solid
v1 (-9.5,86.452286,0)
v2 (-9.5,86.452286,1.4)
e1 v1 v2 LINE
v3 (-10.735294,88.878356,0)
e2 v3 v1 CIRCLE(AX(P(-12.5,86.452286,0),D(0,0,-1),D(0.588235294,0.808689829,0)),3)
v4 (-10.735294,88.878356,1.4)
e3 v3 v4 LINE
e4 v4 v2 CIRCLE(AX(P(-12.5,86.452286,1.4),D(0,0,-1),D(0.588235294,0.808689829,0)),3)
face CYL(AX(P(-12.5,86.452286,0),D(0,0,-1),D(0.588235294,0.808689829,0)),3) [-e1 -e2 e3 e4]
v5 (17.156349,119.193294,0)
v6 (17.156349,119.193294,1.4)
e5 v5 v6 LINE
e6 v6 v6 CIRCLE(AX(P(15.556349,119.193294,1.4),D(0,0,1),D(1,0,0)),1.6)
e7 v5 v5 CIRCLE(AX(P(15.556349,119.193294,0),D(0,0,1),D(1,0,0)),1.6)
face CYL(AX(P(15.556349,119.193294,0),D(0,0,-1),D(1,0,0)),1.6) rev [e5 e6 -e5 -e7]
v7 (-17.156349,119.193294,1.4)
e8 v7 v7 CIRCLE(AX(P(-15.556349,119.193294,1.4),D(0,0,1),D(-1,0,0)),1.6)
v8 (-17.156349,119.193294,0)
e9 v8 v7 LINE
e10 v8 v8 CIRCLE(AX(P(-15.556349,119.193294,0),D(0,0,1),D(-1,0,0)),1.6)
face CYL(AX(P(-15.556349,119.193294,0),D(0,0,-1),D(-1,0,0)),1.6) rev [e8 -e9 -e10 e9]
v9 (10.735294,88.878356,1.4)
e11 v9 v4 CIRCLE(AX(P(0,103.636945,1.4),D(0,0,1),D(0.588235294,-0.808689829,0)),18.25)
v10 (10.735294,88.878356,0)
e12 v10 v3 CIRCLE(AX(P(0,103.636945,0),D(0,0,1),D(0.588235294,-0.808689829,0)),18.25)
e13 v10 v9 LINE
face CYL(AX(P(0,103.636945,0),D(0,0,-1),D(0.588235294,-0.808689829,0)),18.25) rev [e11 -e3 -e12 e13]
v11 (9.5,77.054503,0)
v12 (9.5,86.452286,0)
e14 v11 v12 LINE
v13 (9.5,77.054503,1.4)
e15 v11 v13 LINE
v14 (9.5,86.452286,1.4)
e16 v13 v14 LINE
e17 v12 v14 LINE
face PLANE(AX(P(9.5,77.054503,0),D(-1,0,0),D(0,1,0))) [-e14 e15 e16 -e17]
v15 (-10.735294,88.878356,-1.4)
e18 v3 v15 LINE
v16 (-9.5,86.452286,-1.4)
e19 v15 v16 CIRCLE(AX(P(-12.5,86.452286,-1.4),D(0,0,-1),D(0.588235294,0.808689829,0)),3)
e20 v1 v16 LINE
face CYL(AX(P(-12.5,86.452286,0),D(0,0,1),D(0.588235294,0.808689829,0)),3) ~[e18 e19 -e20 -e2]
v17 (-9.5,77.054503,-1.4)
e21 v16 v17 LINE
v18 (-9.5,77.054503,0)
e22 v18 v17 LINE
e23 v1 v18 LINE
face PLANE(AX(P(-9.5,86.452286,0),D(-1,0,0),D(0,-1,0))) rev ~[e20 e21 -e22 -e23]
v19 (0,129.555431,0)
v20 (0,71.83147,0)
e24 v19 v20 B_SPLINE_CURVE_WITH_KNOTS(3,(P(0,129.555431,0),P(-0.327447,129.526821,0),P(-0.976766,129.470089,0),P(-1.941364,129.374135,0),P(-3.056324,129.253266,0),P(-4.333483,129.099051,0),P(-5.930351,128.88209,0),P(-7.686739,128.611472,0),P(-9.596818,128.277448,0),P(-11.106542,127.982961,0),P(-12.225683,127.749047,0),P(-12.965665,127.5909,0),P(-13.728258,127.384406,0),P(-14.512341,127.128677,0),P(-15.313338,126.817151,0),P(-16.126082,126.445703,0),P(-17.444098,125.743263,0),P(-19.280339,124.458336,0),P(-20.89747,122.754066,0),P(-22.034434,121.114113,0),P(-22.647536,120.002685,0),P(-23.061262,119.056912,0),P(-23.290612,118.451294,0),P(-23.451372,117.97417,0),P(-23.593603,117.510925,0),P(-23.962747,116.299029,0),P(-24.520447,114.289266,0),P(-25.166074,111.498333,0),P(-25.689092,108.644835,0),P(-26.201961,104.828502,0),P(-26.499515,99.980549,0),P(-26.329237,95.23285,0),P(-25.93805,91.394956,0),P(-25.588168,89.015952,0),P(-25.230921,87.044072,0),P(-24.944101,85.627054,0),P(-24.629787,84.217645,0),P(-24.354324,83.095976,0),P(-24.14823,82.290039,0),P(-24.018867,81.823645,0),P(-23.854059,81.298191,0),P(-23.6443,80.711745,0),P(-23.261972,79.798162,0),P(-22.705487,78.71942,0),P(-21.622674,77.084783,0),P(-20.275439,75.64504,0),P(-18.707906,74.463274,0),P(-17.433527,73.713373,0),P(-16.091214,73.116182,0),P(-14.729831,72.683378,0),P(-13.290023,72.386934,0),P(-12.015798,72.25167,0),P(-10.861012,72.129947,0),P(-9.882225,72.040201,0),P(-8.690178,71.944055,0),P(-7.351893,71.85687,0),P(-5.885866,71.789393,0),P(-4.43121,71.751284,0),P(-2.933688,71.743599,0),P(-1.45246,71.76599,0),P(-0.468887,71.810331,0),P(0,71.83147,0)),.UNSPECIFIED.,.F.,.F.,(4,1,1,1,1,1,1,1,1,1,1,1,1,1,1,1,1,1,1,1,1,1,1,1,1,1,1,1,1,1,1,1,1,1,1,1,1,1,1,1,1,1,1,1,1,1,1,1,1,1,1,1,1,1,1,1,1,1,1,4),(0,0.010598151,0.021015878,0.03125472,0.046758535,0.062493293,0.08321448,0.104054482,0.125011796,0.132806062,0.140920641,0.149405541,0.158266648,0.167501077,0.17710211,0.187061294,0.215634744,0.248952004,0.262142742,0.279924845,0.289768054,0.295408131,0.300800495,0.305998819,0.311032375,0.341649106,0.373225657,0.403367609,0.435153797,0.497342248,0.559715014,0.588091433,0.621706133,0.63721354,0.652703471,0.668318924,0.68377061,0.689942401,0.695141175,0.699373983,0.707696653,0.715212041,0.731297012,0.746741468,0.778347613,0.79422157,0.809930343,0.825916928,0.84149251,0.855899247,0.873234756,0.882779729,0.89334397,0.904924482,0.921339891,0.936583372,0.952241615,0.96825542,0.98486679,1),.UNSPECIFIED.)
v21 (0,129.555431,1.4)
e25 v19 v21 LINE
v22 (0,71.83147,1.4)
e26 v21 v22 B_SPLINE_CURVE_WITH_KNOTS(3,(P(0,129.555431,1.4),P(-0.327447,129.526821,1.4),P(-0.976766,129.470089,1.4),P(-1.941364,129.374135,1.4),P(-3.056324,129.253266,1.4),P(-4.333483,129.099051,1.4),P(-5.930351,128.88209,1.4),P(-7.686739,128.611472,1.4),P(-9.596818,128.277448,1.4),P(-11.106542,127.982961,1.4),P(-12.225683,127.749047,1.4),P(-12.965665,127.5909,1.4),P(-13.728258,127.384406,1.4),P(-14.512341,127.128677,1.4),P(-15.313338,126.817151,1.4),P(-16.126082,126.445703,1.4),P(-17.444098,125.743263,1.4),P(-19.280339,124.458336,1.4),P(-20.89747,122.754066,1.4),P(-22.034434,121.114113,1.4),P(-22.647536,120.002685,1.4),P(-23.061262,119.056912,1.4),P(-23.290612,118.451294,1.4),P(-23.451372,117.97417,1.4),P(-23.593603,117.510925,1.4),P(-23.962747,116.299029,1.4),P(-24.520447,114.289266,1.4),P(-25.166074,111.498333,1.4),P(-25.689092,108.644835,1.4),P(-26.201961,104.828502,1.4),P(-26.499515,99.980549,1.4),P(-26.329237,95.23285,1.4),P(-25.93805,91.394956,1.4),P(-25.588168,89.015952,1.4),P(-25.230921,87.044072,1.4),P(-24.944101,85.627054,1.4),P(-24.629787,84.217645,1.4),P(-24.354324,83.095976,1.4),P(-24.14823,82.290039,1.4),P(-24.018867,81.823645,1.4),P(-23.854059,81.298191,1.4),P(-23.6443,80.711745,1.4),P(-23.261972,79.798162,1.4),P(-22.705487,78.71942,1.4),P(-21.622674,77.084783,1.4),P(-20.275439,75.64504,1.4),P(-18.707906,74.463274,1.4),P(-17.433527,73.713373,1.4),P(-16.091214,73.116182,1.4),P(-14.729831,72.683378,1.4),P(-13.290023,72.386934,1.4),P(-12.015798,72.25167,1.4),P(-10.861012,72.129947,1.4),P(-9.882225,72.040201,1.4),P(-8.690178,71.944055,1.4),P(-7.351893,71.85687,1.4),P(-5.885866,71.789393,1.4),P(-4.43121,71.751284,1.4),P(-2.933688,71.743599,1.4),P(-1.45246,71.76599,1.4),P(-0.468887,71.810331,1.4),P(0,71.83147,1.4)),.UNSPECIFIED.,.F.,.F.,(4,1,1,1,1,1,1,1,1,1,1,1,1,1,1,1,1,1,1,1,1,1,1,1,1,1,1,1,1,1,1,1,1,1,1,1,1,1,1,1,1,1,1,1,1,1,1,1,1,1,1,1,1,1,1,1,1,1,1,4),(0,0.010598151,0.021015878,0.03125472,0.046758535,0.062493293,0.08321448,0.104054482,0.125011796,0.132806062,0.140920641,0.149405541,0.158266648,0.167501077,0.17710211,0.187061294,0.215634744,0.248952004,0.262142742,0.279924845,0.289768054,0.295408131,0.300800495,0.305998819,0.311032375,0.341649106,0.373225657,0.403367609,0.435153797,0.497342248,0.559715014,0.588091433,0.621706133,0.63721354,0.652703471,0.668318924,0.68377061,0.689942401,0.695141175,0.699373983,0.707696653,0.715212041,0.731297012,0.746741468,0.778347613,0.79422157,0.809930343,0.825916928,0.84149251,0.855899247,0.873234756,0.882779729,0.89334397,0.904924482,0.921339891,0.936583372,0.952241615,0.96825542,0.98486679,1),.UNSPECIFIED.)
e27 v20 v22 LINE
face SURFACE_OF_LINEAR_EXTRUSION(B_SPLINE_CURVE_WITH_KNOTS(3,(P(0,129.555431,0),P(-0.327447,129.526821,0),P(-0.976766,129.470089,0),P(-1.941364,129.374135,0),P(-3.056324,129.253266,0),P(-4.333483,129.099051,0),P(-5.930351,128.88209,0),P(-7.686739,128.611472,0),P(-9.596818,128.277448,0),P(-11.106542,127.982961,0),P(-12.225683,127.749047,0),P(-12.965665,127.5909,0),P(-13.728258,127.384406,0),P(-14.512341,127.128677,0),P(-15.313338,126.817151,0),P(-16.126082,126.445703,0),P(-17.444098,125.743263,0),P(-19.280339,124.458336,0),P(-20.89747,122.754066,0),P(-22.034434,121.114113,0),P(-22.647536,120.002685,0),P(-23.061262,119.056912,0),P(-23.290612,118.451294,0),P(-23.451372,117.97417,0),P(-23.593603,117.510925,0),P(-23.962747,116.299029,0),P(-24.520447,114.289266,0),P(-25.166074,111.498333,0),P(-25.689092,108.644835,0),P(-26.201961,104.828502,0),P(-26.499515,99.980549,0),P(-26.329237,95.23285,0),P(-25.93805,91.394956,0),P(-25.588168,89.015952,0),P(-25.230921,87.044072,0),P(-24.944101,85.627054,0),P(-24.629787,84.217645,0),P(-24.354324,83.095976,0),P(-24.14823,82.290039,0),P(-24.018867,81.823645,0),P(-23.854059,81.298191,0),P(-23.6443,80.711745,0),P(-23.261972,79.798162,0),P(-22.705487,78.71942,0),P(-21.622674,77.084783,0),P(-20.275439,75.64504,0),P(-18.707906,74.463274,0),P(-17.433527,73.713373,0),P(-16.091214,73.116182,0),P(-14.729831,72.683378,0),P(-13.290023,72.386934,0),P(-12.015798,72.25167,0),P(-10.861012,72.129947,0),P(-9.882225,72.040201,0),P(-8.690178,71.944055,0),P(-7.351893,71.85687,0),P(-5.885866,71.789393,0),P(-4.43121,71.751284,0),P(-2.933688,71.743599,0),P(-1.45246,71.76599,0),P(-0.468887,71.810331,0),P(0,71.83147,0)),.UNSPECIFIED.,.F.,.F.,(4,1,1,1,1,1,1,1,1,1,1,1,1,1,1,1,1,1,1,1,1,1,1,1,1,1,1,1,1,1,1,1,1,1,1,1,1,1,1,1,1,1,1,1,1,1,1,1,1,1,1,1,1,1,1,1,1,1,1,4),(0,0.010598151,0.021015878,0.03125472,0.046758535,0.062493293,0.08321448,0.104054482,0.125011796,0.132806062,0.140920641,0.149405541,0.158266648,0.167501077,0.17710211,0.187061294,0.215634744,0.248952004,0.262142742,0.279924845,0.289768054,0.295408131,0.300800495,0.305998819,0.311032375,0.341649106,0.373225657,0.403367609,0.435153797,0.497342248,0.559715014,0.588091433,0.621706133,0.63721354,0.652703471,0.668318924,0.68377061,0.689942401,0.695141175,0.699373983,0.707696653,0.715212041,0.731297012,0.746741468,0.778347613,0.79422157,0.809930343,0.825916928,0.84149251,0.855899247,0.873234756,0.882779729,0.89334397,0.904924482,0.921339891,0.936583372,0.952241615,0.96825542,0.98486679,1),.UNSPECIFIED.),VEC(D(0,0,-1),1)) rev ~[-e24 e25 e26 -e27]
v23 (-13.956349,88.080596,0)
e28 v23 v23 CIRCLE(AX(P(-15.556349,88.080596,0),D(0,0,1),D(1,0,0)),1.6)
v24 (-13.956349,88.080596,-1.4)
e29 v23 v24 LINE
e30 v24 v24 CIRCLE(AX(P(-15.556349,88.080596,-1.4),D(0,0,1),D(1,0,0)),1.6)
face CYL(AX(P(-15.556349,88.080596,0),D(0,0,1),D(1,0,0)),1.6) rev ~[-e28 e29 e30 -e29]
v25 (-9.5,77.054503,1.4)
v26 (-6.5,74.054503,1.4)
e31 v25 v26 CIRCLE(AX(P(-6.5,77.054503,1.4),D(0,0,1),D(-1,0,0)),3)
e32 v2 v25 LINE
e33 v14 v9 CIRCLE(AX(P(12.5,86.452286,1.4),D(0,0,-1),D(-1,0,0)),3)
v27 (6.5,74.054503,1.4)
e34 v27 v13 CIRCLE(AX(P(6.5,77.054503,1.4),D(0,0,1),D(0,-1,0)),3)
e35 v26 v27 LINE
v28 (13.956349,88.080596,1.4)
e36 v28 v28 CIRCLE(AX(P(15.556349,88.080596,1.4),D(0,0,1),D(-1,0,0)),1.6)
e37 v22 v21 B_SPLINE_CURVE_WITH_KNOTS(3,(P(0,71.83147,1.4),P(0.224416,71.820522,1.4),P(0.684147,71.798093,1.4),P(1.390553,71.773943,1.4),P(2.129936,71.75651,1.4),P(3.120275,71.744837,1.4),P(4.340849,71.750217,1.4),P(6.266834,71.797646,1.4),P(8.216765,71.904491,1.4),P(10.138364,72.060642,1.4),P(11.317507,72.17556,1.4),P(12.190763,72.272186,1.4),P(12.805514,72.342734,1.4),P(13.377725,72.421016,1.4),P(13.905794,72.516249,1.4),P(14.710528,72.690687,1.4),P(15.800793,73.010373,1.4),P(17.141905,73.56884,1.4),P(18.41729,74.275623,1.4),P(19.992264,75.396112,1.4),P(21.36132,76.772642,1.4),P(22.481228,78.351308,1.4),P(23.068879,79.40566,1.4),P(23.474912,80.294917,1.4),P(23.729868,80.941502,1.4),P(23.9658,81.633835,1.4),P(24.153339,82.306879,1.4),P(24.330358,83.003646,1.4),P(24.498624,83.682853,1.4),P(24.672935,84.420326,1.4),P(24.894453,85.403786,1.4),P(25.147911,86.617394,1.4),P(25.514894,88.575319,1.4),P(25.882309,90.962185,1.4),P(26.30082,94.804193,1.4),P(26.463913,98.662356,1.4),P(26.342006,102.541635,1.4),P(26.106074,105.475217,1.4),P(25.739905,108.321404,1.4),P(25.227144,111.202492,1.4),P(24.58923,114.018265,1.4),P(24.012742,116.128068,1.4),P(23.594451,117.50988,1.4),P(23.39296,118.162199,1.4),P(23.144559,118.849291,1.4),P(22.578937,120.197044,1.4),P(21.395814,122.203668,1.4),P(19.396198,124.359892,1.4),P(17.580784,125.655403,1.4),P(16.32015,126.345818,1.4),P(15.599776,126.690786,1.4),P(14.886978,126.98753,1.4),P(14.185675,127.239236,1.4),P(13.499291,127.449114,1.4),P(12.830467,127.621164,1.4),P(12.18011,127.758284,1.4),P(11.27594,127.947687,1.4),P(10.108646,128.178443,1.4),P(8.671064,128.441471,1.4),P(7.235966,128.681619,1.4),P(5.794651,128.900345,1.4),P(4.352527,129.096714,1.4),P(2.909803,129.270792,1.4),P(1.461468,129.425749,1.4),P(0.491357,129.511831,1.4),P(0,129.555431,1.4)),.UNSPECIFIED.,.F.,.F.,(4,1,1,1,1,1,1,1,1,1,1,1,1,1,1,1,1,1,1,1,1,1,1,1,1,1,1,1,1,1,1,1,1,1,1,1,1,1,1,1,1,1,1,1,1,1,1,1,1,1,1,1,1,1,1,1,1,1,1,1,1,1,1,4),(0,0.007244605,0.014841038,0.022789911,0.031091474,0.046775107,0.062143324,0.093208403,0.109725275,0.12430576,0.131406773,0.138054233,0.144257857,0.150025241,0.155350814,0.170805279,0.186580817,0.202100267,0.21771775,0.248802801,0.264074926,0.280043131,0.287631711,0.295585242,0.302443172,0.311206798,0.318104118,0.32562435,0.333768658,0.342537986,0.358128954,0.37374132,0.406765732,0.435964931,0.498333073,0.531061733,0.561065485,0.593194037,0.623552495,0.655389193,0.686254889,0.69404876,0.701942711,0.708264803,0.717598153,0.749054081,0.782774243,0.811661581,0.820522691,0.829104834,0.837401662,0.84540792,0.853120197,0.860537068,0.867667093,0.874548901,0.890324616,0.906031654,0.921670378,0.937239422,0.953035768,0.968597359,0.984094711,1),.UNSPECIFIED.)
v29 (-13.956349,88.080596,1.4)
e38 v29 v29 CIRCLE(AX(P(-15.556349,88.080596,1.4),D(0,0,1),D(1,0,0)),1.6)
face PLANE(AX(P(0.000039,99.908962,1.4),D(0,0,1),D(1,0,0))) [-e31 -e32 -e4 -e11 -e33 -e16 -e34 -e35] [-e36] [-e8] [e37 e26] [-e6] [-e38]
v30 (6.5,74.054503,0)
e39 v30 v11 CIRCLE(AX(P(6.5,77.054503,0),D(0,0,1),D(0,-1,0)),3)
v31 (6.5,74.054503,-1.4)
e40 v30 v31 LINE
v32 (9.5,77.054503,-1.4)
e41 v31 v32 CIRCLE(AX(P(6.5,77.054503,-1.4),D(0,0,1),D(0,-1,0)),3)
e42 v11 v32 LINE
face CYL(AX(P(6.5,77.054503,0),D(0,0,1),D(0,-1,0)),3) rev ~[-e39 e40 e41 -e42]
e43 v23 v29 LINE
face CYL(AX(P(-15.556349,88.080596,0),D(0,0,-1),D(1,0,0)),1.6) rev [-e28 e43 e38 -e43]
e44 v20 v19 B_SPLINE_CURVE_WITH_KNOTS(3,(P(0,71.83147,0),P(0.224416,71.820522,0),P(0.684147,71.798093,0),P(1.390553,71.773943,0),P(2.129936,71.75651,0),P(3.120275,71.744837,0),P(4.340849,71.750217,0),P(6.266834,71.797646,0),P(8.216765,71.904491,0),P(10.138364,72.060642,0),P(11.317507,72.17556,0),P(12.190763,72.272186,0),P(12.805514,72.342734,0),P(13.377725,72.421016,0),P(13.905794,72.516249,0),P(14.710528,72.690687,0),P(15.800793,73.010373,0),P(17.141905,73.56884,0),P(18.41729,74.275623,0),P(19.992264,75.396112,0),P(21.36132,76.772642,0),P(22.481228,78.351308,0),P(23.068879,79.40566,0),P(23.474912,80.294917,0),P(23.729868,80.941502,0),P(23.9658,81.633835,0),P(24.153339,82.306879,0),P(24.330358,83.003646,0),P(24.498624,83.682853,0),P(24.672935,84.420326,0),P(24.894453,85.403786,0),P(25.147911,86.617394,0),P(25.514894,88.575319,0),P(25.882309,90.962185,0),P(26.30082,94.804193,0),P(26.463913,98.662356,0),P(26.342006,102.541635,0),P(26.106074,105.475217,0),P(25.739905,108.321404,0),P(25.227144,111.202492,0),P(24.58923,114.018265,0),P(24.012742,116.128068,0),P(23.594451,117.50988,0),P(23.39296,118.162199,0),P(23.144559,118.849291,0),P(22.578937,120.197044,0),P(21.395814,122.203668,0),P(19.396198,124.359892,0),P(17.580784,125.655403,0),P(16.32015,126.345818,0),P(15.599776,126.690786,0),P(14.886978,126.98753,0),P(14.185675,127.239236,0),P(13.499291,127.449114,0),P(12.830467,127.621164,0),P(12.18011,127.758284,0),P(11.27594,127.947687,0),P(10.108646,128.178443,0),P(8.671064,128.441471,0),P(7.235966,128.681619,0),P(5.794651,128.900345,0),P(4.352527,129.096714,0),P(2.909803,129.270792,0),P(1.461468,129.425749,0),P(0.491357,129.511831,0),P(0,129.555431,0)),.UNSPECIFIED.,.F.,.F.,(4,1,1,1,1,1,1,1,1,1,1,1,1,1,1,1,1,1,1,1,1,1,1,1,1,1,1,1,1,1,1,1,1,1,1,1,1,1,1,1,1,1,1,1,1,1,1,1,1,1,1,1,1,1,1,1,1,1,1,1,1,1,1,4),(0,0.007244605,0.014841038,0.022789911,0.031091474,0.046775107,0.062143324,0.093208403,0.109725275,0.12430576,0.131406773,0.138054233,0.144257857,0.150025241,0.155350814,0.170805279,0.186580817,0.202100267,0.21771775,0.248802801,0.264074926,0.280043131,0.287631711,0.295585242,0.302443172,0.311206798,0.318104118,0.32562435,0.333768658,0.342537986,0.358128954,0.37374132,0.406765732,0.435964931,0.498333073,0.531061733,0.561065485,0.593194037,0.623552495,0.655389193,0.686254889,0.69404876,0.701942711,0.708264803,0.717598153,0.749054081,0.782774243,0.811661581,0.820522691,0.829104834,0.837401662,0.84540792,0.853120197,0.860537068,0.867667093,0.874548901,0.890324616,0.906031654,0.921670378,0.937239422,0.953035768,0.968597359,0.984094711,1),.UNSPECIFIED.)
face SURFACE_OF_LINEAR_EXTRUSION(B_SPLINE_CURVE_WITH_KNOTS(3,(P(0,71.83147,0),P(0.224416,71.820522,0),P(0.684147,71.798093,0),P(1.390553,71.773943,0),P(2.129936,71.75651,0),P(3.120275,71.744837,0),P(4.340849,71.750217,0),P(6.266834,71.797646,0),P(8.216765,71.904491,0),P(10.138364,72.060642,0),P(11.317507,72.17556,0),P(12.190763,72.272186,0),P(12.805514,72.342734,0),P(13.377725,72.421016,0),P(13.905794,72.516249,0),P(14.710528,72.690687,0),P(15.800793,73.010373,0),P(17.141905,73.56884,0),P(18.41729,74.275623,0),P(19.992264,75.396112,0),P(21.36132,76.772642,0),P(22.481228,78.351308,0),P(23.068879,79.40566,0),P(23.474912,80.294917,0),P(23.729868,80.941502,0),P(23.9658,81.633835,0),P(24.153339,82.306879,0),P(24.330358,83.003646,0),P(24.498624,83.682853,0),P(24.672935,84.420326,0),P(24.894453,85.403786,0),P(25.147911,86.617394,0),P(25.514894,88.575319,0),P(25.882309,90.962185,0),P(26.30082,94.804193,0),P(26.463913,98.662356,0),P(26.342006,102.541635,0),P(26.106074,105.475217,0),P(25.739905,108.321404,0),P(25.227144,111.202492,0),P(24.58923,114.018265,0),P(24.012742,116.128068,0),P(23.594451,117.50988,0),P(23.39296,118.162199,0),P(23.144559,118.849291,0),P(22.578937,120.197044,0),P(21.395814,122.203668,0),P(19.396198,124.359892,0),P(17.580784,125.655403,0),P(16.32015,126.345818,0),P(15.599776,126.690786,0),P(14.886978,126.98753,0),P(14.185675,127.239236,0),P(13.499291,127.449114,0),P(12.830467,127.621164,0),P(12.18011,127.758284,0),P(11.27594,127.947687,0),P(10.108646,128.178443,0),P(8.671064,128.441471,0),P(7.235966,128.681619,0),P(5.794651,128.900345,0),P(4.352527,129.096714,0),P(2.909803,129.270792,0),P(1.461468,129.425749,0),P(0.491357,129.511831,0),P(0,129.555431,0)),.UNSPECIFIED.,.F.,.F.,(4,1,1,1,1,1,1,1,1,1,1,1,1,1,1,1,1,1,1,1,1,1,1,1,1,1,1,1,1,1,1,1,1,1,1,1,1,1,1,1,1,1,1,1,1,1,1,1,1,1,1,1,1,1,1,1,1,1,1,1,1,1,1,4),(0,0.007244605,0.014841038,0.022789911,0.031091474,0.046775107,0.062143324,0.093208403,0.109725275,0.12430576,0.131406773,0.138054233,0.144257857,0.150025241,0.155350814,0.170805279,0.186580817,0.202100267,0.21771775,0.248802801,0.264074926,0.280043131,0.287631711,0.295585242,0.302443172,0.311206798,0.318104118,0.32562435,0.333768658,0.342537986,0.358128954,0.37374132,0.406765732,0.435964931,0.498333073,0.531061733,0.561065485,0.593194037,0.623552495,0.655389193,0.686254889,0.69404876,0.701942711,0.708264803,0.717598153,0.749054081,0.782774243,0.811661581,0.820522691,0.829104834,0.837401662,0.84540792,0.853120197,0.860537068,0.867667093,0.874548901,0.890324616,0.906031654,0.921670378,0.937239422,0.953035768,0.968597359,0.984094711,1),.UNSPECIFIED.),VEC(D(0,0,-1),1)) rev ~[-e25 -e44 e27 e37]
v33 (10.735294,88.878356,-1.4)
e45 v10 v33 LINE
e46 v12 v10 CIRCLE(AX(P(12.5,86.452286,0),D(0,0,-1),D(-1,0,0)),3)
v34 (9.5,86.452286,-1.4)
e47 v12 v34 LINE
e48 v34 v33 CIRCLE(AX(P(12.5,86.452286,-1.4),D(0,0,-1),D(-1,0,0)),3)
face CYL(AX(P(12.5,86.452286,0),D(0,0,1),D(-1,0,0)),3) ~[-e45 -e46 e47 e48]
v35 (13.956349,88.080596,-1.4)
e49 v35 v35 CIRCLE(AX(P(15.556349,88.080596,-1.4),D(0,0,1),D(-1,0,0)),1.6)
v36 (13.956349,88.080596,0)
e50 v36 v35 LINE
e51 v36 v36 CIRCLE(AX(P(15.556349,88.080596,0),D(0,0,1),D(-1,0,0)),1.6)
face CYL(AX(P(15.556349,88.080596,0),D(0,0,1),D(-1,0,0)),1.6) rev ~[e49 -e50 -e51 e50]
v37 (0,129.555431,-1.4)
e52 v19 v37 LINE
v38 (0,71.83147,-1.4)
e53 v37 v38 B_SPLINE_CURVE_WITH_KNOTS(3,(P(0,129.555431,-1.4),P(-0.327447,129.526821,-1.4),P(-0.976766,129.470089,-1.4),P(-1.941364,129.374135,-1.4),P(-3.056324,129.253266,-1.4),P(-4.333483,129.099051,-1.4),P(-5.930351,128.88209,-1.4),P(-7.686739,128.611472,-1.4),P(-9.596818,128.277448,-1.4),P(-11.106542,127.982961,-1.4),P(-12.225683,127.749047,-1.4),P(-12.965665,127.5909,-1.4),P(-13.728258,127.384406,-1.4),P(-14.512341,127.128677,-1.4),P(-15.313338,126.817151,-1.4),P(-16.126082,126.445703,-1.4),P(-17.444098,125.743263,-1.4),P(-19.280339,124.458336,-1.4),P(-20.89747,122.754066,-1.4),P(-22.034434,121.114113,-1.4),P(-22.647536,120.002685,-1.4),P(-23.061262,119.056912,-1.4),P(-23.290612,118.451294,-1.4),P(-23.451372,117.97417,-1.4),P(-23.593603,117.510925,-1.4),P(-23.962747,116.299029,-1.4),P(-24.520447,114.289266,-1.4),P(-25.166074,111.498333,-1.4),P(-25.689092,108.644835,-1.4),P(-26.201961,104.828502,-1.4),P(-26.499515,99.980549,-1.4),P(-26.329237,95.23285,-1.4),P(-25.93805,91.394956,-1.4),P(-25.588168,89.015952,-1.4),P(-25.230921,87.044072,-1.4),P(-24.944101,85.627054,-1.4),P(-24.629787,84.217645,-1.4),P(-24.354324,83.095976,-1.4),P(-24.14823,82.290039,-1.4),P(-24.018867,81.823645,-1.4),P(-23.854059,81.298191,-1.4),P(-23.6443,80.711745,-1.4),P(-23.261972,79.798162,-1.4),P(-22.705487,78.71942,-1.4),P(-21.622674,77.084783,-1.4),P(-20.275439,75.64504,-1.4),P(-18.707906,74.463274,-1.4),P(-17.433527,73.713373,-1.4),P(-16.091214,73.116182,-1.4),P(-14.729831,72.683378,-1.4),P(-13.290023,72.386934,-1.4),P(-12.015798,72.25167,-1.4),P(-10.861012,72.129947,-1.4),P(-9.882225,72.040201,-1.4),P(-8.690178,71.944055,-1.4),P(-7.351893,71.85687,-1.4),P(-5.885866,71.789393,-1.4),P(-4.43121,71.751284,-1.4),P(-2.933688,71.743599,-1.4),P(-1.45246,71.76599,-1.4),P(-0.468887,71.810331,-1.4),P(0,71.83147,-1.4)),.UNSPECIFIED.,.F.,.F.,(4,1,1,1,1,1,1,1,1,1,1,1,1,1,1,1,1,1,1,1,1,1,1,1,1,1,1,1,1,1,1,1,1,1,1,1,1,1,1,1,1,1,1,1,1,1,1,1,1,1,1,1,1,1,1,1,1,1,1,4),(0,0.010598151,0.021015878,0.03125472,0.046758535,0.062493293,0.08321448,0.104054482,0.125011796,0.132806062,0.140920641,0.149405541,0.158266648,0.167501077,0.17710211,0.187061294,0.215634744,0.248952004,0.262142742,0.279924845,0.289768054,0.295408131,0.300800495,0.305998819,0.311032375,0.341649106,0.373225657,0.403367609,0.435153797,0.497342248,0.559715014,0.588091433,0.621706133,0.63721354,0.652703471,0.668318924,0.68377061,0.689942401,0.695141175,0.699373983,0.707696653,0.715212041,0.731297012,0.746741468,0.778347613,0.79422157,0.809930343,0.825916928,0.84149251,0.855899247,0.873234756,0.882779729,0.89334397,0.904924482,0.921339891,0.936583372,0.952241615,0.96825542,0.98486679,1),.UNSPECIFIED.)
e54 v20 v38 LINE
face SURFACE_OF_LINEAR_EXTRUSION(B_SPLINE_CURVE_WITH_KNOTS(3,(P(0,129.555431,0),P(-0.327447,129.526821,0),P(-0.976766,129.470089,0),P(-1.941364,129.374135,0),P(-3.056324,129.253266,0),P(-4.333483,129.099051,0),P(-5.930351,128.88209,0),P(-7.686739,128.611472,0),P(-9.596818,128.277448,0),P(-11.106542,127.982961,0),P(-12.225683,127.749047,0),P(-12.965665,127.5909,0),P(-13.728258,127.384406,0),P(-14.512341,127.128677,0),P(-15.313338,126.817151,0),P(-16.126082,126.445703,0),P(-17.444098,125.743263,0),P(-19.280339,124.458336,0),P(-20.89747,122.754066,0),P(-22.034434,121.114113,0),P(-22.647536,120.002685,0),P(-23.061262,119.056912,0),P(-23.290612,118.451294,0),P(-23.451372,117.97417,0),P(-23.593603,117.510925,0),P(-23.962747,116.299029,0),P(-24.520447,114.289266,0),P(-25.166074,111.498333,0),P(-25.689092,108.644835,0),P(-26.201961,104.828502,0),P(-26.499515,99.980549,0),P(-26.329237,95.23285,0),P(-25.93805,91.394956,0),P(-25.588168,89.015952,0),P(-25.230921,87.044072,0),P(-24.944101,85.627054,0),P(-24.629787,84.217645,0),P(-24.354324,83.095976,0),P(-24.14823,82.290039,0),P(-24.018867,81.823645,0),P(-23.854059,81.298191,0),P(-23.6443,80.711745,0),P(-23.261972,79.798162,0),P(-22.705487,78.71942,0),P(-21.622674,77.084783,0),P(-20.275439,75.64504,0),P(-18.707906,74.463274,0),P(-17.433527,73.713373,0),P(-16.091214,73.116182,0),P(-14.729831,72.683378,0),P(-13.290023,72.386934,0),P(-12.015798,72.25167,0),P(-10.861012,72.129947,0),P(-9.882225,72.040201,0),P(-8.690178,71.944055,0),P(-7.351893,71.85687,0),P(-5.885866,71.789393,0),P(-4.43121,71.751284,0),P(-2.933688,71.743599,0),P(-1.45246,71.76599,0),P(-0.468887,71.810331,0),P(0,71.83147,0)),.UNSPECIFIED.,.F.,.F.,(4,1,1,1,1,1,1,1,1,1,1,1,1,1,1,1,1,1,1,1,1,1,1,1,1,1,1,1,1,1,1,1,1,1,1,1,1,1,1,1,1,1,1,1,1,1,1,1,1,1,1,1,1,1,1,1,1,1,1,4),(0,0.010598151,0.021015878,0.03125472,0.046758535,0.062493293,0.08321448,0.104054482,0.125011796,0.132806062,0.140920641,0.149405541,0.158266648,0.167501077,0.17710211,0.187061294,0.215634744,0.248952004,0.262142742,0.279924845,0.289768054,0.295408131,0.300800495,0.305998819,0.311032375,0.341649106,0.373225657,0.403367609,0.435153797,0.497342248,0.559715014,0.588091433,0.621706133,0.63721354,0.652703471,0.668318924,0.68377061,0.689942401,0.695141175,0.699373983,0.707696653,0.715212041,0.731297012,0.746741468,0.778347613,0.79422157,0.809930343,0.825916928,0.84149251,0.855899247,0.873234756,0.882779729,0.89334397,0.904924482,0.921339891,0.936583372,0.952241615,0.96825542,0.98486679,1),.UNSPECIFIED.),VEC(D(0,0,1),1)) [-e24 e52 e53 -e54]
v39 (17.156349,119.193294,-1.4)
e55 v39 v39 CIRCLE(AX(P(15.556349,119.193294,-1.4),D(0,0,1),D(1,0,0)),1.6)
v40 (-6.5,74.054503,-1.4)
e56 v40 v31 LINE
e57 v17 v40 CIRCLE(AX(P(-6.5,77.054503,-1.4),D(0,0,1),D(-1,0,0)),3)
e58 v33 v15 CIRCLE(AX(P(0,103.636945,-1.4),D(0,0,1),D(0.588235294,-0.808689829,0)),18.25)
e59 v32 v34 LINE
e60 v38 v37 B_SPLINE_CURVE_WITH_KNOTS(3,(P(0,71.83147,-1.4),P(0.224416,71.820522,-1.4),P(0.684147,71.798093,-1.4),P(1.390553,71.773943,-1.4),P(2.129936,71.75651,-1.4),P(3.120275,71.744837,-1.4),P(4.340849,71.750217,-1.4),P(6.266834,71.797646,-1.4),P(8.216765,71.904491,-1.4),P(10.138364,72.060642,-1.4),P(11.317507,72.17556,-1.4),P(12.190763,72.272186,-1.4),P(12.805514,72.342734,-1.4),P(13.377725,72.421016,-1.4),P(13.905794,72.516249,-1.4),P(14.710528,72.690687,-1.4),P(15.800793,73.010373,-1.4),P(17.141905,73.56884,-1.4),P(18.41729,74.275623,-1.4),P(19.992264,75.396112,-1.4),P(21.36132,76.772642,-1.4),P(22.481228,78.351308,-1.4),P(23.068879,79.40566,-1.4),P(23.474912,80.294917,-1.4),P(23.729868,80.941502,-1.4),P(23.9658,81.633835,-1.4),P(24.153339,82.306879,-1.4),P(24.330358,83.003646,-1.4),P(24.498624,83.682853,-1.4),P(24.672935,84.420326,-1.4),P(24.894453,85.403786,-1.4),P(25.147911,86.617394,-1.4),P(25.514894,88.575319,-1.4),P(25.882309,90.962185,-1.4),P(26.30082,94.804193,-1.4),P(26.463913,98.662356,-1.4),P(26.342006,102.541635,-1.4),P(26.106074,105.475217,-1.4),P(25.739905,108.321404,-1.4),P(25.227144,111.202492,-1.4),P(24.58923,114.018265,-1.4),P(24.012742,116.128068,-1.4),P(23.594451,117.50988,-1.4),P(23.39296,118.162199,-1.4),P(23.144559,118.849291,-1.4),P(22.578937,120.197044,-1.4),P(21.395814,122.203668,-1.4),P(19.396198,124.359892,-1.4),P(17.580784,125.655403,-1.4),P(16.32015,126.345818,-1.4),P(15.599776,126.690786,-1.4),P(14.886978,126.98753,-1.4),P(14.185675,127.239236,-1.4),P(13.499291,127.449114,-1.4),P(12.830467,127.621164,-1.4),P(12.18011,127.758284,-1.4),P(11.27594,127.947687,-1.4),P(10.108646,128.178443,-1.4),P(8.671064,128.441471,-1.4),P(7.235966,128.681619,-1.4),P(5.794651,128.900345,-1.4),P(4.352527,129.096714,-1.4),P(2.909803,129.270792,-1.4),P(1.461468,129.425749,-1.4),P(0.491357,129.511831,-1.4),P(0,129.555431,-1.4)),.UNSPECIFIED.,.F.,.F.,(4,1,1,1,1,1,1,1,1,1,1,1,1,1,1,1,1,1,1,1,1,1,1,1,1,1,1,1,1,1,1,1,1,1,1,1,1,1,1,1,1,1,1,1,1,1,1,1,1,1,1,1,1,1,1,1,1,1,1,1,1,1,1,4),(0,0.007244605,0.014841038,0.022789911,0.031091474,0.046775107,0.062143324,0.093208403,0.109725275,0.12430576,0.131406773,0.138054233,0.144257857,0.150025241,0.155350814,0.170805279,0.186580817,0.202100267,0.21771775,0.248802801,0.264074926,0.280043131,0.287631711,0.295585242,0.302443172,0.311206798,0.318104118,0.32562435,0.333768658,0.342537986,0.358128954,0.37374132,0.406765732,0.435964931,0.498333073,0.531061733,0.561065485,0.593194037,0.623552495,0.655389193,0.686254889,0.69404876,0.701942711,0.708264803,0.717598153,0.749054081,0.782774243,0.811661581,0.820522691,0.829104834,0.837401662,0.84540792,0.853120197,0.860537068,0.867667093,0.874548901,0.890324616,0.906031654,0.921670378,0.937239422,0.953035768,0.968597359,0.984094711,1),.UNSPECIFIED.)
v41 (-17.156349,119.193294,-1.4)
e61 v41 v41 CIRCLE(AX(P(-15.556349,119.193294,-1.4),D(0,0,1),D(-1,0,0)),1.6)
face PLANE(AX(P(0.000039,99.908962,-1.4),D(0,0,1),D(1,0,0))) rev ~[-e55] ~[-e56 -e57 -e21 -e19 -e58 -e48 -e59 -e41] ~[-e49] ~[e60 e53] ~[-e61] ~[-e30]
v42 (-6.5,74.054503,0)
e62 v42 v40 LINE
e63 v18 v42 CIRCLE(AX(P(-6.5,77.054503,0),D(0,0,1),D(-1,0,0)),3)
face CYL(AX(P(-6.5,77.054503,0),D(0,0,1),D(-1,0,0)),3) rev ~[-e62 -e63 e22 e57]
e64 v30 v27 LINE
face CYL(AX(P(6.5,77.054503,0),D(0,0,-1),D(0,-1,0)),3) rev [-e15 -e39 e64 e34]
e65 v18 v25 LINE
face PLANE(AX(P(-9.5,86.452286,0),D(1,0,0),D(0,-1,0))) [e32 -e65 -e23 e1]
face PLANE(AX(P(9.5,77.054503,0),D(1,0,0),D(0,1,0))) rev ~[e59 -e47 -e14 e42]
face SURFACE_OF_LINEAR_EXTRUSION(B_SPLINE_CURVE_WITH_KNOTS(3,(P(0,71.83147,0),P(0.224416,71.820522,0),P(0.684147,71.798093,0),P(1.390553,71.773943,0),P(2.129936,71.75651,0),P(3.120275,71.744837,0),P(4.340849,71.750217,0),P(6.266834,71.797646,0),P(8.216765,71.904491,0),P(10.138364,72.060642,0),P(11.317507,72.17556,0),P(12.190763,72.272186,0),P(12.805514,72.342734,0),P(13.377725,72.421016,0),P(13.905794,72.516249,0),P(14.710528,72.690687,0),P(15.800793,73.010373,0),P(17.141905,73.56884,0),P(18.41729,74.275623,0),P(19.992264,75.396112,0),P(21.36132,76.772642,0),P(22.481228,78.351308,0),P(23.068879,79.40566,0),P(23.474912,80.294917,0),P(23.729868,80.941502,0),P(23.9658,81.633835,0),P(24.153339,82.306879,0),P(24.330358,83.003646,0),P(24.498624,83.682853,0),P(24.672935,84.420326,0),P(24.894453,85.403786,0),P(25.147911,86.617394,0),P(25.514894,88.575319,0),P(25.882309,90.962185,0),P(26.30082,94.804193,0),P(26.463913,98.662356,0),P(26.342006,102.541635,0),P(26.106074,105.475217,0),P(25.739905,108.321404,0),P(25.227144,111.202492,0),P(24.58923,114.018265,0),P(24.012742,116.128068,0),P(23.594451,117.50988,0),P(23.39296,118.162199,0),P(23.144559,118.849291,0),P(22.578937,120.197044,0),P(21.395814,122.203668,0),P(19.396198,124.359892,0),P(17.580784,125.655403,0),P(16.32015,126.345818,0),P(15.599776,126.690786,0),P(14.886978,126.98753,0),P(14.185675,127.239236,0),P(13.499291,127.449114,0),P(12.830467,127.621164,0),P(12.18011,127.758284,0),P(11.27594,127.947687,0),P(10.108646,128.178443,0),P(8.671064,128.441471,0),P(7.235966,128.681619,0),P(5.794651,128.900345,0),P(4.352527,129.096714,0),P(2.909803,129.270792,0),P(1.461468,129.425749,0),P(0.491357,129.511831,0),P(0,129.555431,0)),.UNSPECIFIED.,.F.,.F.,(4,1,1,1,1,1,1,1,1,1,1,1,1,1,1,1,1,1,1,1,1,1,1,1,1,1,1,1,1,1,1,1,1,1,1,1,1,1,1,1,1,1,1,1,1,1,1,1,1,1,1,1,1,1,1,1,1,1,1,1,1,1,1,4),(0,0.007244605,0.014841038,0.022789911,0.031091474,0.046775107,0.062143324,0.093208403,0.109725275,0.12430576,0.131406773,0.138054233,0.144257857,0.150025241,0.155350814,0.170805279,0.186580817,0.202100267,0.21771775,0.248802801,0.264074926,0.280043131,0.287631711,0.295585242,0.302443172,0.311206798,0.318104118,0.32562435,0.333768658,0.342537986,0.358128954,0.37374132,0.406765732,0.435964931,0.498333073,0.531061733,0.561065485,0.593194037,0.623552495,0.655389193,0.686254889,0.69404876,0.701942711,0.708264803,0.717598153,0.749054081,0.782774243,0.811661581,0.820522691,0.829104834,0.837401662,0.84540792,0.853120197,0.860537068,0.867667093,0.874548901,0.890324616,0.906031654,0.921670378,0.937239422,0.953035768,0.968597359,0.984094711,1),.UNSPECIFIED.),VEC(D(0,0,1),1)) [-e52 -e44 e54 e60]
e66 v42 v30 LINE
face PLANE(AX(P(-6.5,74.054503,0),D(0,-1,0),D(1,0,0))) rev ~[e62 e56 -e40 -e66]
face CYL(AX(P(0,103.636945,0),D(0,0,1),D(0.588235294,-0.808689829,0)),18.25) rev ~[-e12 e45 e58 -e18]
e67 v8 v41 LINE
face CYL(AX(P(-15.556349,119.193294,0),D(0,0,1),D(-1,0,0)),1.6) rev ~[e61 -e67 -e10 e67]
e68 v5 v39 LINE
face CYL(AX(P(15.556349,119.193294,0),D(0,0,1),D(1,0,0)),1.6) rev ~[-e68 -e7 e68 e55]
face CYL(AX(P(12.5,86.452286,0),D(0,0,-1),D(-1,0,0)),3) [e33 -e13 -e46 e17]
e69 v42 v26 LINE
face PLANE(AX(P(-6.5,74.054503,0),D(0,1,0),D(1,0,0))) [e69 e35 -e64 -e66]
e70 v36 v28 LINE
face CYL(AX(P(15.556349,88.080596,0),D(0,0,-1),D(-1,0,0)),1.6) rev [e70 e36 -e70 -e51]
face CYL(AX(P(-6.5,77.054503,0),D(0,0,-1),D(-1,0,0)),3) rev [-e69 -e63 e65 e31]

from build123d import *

# Parameters (mm, degrees)
SKETCH_1_R      = 1.6
EXTRUDE_1_DEPTH = 1.4


with BuildPart() as part:
    # Эскиз1 → Бобышка-Вытянуть1 (new, symmetric)
    with BuildSketch(Plane.XY):
        with BuildLine():
            add(Edge.make_bspline(
                [(0, 71.831470018), (0.224416179, 71.820521503), (0.684147103, 71.798092768), (1.390553246, 71.77394313), (2.129936147, 71.756509949), (3.120275382, 71.74483738), (4.340849325, 71.750217073), (6.266834443, 71.797645626), (8.216765497, 71.904490636), (10.138363938, 72.060642203), (11.317506615, 72.175559831), (12.190762764, 72.272185641), (12.805513935, 72.34273449), (13.37772465, 72.421015924), (13.905793885, 72.51624936), (14.710527508, 72.690687443), (15.800793475, 73.010372547), (17.141904851, 73.568840352), (18.417290334, 74.275623423), (19.992263936, 75.396111642), (21.361320354, 76.772642414), (22.481227657, 78.351307534), (23.068879442, 79.405660146), (23.47491154, 80.294917035), (23.729868011, 80.941501678), (23.965799926, 81.633834828), (24.153338764, 82.306879474), (24.330358453, 83.00364592), (24.498623524, 83.682852837), (24.672935215, 84.420326333), (24.894452544, 85.403785706), (25.147911089, 86.617394475), (25.514893824, 88.575319472), (25.882308723, 90.962184892), (26.300820369, 94.804193168), (26.463913272, 98.662356192), (26.342005837, 102.541634909), (26.106073622, 105.475217496), (25.739905361, 108.321403549), (25.227143621, 111.202492324), (24.589229676, 114.018264761), (24.012742476, 116.128067688), (23.594450813, 117.509879625), (23.392959669, 118.162199377), (23.144559301, 118.849290868), (22.578937407, 120.197043553), (21.395813943, 122.20366756), (19.396198372, 124.35989197), (17.580783875, 125.655403223), (16.320150391, 126.345818353), (15.599775822, 126.690785698), (14.886977613, 126.987530367), (14.185674872, 127.239235753), (13.4992906, 127.449114007), (12.830466587, 127.621163827), (12.180109738, 127.758284309), (11.275940312, 127.947686764), (10.10864648, 128.178443045), (8.671063895, 128.441470677), (7.23596598, 128.681619076), (5.794651251, 128.900345473), (4.352526893, 129.096713978), (2.909802689, 129.270791509), (1.461468081, 129.42574856), (0.491356771, 129.511830561), (0, 129.555430685)],
                knots=[0, 0, 0, 0, 0.007244605, 0.014841038, 0.022789911, 0.031091474, 0.046775107, 0.062143324, 0.093208403, 0.109725275, 0.12430576, 0.131406773, 0.138054233, 0.144257857, 0.150025241, 0.155350814, 0.170805279, 0.186580817, 0.202100267, 0.21771775, 0.248802801, 0.264074926, 0.280043131, 0.287631711, 0.295585242, 0.302443172, 0.311206798, 0.318104118, 0.32562435, 0.333768658, 0.342537986, 0.358128954, 0.37374132, 0.406765732, 0.435964931, 0.498333073, 0.531061733, 0.561065485, 0.593194037, 0.623552495, 0.655389193, 0.686254889, 0.69404876, 0.701942711, 0.708264803, 0.717598153, 0.749054081, 0.782774243, 0.811661581, 0.820522691, 0.829104834, 0.837401662, 0.84540792, 0.853120197, 0.860537068, 0.867667093, 0.874548901, 0.890324616, 0.906031654, 0.921670378, 0.937239422, 0.953035768, 0.968597359, 0.984094711, 1, 1, 1, 1], degree=3))
            add(Edge.make_bspline(
                [(0, 129.555430685), (-0.3274469, 129.526821193), (-0.97676619, 129.47008926), (-1.94136409, 129.37413494), (-3.056324136, 129.253266033), (-4.33348257, 129.099051372), (-5.930351425, 128.882090385), (-7.686739234, 128.611471892), (-9.596818382, 128.277448203), (-11.106542408, 127.982961479), (-12.225682791, 127.749046891), (-12.965665391, 127.590900371), (-13.728257741, 127.38440617), (-14.512340962, 127.12867723), (-15.313338162, 126.817150771), (-16.126082065, 126.445703171), (-17.444098211, 125.743263421), (-19.280339416, 124.458335973), (-20.897470488, 122.754065632), (-22.034433682, 121.114113169), (-22.647536356, 120.002685322), (-23.061262162, 119.056911748), (-23.290611707, 118.451294304), (-23.451372125, 117.974169765), (-23.593602687, 117.510925094), (-23.962747453, 116.29902851), (-24.520446784, 114.289265865), (-25.166074376, 111.498333257), (-25.689092368, 108.644834899), (-26.201960729, 104.828502487), (-26.499515195, 99.98054875), (-26.329237181, 95.232849809), (-25.93805017, 91.394955647), (-25.588168293, 89.015952156), (-25.230921433, 87.044071951), (-24.944100715, 85.627054403), (-24.629786889, 84.217645213), (-24.354324302, 83.095975922), (-24.148229918, 82.290039423), (-24.018866814, 81.82364516), (-23.854058531, 81.298190812), (-23.644300292, 80.71174475), (-23.261971585, 79.798161959), (-22.705487298, 78.719420483), (-21.622673835, 77.084782927), (-20.275439366, 75.645040405), (-18.70790573, 74.463273721), (-17.43352671, 73.713373036), (-16.091213811, 73.116181806), (-14.729830923, 72.683377588), (-13.290023133, 72.386934206), (-12.0157978, 72.251669974), (-10.861011854, 72.129946685), (-9.882225452, 72.040200908), (-8.690178345, 71.944054587), (-7.351893097, 71.856869551), (-5.885866144, 71.789392779), (-4.431210112, 71.751283956), (-2.93368772, 71.743598504), (-1.452459975, 71.765989714), (-0.468886907, 71.810331496), (0, 71.831470018)],
                knots=[0, 0, 0, 0, 0.010598151, 0.021015878, 0.03125472, 0.046758535, 0.062493293, 0.08321448, 0.104054482, 0.125011796, 0.132806062, 0.140920641, 0.149405541, 0.158266648, 0.167501077, 0.17710211, 0.187061294, 0.215634744, 0.248952004, 0.262142742, 0.279924845, 0.289768054, 0.295408131, 0.300800495, 0.305998819, 0.311032375, 0.341649106, 0.373225657, 0.403367609, 0.435153797, 0.497342248, 0.559715014, 0.588091433, 0.621706133, 0.63721354, 0.652703471, 0.668318924, 0.68377061, 0.689942401, 0.695141175, 0.699373983, 0.707696653, 0.715212041, 0.731297012, 0.746741468, 0.778347613, 0.79422157, 0.809930343, 0.825916928, 0.84149251, 0.855899247, 0.873234756, 0.882779729, 0.89334397, 0.904924482, 0.921339891, 0.936583372, 0.952241615, 0.96825542, 0.98486679, 1, 1, 1, 1], degree=3))
        make_face()
        with Locations((15.556349186, 119.193294207)):
            Circle(SKETCH_1_R, mode=Mode.SUBTRACT)
        with Locations(Location((15.556349186, 88.080595835, 0), (0, 0, 180))):
            Circle(SKETCH_1_R, mode=Mode.SUBTRACT)
        with Locations((-15.556349186, 88.080595835)):
            Circle(SKETCH_1_R, mode=Mode.SUBTRACT)
        with Locations(Location((-15.556349186, 119.193294207, 0), (0, 0, 180))):
            Circle(SKETCH_1_R, mode=Mode.SUBTRACT)
        with BuildLine():
            Line((-6.5, 74.054502978), (6.5, 74.054502978))
            ThreePointArc((6.5, 74.054502978), (8.621320344, 74.933182635), (9.5, 77.054502978))
            Line((9.5, 77.054502978), (9.5, 86.452286165))
            ThreePointArc((9.5, 86.452286165), (9.826601634, 87.813513984), (10.735294118, 88.87835565))
            ThreePointArc((10.735294118, 88.87835565), (0, 121.886945021), (-10.735294118, 88.87835565))
            ThreePointArc((-10.735294118, 88.87835565), (-9.826601634, 87.813513984), (-9.5, 86.452286165))
            Line((-9.5, 86.452286165), (-9.5, 77.054502978))
            ThreePointArc((-9.5, 77.054502978), (-8.621320344, 74.933182635), (-6.5, 74.054502978))
        make_face(mode=Mode.SUBTRACT)
    extrude(amount=EXTRUDE_1_DEPTH, both=True)


solid = part.part
